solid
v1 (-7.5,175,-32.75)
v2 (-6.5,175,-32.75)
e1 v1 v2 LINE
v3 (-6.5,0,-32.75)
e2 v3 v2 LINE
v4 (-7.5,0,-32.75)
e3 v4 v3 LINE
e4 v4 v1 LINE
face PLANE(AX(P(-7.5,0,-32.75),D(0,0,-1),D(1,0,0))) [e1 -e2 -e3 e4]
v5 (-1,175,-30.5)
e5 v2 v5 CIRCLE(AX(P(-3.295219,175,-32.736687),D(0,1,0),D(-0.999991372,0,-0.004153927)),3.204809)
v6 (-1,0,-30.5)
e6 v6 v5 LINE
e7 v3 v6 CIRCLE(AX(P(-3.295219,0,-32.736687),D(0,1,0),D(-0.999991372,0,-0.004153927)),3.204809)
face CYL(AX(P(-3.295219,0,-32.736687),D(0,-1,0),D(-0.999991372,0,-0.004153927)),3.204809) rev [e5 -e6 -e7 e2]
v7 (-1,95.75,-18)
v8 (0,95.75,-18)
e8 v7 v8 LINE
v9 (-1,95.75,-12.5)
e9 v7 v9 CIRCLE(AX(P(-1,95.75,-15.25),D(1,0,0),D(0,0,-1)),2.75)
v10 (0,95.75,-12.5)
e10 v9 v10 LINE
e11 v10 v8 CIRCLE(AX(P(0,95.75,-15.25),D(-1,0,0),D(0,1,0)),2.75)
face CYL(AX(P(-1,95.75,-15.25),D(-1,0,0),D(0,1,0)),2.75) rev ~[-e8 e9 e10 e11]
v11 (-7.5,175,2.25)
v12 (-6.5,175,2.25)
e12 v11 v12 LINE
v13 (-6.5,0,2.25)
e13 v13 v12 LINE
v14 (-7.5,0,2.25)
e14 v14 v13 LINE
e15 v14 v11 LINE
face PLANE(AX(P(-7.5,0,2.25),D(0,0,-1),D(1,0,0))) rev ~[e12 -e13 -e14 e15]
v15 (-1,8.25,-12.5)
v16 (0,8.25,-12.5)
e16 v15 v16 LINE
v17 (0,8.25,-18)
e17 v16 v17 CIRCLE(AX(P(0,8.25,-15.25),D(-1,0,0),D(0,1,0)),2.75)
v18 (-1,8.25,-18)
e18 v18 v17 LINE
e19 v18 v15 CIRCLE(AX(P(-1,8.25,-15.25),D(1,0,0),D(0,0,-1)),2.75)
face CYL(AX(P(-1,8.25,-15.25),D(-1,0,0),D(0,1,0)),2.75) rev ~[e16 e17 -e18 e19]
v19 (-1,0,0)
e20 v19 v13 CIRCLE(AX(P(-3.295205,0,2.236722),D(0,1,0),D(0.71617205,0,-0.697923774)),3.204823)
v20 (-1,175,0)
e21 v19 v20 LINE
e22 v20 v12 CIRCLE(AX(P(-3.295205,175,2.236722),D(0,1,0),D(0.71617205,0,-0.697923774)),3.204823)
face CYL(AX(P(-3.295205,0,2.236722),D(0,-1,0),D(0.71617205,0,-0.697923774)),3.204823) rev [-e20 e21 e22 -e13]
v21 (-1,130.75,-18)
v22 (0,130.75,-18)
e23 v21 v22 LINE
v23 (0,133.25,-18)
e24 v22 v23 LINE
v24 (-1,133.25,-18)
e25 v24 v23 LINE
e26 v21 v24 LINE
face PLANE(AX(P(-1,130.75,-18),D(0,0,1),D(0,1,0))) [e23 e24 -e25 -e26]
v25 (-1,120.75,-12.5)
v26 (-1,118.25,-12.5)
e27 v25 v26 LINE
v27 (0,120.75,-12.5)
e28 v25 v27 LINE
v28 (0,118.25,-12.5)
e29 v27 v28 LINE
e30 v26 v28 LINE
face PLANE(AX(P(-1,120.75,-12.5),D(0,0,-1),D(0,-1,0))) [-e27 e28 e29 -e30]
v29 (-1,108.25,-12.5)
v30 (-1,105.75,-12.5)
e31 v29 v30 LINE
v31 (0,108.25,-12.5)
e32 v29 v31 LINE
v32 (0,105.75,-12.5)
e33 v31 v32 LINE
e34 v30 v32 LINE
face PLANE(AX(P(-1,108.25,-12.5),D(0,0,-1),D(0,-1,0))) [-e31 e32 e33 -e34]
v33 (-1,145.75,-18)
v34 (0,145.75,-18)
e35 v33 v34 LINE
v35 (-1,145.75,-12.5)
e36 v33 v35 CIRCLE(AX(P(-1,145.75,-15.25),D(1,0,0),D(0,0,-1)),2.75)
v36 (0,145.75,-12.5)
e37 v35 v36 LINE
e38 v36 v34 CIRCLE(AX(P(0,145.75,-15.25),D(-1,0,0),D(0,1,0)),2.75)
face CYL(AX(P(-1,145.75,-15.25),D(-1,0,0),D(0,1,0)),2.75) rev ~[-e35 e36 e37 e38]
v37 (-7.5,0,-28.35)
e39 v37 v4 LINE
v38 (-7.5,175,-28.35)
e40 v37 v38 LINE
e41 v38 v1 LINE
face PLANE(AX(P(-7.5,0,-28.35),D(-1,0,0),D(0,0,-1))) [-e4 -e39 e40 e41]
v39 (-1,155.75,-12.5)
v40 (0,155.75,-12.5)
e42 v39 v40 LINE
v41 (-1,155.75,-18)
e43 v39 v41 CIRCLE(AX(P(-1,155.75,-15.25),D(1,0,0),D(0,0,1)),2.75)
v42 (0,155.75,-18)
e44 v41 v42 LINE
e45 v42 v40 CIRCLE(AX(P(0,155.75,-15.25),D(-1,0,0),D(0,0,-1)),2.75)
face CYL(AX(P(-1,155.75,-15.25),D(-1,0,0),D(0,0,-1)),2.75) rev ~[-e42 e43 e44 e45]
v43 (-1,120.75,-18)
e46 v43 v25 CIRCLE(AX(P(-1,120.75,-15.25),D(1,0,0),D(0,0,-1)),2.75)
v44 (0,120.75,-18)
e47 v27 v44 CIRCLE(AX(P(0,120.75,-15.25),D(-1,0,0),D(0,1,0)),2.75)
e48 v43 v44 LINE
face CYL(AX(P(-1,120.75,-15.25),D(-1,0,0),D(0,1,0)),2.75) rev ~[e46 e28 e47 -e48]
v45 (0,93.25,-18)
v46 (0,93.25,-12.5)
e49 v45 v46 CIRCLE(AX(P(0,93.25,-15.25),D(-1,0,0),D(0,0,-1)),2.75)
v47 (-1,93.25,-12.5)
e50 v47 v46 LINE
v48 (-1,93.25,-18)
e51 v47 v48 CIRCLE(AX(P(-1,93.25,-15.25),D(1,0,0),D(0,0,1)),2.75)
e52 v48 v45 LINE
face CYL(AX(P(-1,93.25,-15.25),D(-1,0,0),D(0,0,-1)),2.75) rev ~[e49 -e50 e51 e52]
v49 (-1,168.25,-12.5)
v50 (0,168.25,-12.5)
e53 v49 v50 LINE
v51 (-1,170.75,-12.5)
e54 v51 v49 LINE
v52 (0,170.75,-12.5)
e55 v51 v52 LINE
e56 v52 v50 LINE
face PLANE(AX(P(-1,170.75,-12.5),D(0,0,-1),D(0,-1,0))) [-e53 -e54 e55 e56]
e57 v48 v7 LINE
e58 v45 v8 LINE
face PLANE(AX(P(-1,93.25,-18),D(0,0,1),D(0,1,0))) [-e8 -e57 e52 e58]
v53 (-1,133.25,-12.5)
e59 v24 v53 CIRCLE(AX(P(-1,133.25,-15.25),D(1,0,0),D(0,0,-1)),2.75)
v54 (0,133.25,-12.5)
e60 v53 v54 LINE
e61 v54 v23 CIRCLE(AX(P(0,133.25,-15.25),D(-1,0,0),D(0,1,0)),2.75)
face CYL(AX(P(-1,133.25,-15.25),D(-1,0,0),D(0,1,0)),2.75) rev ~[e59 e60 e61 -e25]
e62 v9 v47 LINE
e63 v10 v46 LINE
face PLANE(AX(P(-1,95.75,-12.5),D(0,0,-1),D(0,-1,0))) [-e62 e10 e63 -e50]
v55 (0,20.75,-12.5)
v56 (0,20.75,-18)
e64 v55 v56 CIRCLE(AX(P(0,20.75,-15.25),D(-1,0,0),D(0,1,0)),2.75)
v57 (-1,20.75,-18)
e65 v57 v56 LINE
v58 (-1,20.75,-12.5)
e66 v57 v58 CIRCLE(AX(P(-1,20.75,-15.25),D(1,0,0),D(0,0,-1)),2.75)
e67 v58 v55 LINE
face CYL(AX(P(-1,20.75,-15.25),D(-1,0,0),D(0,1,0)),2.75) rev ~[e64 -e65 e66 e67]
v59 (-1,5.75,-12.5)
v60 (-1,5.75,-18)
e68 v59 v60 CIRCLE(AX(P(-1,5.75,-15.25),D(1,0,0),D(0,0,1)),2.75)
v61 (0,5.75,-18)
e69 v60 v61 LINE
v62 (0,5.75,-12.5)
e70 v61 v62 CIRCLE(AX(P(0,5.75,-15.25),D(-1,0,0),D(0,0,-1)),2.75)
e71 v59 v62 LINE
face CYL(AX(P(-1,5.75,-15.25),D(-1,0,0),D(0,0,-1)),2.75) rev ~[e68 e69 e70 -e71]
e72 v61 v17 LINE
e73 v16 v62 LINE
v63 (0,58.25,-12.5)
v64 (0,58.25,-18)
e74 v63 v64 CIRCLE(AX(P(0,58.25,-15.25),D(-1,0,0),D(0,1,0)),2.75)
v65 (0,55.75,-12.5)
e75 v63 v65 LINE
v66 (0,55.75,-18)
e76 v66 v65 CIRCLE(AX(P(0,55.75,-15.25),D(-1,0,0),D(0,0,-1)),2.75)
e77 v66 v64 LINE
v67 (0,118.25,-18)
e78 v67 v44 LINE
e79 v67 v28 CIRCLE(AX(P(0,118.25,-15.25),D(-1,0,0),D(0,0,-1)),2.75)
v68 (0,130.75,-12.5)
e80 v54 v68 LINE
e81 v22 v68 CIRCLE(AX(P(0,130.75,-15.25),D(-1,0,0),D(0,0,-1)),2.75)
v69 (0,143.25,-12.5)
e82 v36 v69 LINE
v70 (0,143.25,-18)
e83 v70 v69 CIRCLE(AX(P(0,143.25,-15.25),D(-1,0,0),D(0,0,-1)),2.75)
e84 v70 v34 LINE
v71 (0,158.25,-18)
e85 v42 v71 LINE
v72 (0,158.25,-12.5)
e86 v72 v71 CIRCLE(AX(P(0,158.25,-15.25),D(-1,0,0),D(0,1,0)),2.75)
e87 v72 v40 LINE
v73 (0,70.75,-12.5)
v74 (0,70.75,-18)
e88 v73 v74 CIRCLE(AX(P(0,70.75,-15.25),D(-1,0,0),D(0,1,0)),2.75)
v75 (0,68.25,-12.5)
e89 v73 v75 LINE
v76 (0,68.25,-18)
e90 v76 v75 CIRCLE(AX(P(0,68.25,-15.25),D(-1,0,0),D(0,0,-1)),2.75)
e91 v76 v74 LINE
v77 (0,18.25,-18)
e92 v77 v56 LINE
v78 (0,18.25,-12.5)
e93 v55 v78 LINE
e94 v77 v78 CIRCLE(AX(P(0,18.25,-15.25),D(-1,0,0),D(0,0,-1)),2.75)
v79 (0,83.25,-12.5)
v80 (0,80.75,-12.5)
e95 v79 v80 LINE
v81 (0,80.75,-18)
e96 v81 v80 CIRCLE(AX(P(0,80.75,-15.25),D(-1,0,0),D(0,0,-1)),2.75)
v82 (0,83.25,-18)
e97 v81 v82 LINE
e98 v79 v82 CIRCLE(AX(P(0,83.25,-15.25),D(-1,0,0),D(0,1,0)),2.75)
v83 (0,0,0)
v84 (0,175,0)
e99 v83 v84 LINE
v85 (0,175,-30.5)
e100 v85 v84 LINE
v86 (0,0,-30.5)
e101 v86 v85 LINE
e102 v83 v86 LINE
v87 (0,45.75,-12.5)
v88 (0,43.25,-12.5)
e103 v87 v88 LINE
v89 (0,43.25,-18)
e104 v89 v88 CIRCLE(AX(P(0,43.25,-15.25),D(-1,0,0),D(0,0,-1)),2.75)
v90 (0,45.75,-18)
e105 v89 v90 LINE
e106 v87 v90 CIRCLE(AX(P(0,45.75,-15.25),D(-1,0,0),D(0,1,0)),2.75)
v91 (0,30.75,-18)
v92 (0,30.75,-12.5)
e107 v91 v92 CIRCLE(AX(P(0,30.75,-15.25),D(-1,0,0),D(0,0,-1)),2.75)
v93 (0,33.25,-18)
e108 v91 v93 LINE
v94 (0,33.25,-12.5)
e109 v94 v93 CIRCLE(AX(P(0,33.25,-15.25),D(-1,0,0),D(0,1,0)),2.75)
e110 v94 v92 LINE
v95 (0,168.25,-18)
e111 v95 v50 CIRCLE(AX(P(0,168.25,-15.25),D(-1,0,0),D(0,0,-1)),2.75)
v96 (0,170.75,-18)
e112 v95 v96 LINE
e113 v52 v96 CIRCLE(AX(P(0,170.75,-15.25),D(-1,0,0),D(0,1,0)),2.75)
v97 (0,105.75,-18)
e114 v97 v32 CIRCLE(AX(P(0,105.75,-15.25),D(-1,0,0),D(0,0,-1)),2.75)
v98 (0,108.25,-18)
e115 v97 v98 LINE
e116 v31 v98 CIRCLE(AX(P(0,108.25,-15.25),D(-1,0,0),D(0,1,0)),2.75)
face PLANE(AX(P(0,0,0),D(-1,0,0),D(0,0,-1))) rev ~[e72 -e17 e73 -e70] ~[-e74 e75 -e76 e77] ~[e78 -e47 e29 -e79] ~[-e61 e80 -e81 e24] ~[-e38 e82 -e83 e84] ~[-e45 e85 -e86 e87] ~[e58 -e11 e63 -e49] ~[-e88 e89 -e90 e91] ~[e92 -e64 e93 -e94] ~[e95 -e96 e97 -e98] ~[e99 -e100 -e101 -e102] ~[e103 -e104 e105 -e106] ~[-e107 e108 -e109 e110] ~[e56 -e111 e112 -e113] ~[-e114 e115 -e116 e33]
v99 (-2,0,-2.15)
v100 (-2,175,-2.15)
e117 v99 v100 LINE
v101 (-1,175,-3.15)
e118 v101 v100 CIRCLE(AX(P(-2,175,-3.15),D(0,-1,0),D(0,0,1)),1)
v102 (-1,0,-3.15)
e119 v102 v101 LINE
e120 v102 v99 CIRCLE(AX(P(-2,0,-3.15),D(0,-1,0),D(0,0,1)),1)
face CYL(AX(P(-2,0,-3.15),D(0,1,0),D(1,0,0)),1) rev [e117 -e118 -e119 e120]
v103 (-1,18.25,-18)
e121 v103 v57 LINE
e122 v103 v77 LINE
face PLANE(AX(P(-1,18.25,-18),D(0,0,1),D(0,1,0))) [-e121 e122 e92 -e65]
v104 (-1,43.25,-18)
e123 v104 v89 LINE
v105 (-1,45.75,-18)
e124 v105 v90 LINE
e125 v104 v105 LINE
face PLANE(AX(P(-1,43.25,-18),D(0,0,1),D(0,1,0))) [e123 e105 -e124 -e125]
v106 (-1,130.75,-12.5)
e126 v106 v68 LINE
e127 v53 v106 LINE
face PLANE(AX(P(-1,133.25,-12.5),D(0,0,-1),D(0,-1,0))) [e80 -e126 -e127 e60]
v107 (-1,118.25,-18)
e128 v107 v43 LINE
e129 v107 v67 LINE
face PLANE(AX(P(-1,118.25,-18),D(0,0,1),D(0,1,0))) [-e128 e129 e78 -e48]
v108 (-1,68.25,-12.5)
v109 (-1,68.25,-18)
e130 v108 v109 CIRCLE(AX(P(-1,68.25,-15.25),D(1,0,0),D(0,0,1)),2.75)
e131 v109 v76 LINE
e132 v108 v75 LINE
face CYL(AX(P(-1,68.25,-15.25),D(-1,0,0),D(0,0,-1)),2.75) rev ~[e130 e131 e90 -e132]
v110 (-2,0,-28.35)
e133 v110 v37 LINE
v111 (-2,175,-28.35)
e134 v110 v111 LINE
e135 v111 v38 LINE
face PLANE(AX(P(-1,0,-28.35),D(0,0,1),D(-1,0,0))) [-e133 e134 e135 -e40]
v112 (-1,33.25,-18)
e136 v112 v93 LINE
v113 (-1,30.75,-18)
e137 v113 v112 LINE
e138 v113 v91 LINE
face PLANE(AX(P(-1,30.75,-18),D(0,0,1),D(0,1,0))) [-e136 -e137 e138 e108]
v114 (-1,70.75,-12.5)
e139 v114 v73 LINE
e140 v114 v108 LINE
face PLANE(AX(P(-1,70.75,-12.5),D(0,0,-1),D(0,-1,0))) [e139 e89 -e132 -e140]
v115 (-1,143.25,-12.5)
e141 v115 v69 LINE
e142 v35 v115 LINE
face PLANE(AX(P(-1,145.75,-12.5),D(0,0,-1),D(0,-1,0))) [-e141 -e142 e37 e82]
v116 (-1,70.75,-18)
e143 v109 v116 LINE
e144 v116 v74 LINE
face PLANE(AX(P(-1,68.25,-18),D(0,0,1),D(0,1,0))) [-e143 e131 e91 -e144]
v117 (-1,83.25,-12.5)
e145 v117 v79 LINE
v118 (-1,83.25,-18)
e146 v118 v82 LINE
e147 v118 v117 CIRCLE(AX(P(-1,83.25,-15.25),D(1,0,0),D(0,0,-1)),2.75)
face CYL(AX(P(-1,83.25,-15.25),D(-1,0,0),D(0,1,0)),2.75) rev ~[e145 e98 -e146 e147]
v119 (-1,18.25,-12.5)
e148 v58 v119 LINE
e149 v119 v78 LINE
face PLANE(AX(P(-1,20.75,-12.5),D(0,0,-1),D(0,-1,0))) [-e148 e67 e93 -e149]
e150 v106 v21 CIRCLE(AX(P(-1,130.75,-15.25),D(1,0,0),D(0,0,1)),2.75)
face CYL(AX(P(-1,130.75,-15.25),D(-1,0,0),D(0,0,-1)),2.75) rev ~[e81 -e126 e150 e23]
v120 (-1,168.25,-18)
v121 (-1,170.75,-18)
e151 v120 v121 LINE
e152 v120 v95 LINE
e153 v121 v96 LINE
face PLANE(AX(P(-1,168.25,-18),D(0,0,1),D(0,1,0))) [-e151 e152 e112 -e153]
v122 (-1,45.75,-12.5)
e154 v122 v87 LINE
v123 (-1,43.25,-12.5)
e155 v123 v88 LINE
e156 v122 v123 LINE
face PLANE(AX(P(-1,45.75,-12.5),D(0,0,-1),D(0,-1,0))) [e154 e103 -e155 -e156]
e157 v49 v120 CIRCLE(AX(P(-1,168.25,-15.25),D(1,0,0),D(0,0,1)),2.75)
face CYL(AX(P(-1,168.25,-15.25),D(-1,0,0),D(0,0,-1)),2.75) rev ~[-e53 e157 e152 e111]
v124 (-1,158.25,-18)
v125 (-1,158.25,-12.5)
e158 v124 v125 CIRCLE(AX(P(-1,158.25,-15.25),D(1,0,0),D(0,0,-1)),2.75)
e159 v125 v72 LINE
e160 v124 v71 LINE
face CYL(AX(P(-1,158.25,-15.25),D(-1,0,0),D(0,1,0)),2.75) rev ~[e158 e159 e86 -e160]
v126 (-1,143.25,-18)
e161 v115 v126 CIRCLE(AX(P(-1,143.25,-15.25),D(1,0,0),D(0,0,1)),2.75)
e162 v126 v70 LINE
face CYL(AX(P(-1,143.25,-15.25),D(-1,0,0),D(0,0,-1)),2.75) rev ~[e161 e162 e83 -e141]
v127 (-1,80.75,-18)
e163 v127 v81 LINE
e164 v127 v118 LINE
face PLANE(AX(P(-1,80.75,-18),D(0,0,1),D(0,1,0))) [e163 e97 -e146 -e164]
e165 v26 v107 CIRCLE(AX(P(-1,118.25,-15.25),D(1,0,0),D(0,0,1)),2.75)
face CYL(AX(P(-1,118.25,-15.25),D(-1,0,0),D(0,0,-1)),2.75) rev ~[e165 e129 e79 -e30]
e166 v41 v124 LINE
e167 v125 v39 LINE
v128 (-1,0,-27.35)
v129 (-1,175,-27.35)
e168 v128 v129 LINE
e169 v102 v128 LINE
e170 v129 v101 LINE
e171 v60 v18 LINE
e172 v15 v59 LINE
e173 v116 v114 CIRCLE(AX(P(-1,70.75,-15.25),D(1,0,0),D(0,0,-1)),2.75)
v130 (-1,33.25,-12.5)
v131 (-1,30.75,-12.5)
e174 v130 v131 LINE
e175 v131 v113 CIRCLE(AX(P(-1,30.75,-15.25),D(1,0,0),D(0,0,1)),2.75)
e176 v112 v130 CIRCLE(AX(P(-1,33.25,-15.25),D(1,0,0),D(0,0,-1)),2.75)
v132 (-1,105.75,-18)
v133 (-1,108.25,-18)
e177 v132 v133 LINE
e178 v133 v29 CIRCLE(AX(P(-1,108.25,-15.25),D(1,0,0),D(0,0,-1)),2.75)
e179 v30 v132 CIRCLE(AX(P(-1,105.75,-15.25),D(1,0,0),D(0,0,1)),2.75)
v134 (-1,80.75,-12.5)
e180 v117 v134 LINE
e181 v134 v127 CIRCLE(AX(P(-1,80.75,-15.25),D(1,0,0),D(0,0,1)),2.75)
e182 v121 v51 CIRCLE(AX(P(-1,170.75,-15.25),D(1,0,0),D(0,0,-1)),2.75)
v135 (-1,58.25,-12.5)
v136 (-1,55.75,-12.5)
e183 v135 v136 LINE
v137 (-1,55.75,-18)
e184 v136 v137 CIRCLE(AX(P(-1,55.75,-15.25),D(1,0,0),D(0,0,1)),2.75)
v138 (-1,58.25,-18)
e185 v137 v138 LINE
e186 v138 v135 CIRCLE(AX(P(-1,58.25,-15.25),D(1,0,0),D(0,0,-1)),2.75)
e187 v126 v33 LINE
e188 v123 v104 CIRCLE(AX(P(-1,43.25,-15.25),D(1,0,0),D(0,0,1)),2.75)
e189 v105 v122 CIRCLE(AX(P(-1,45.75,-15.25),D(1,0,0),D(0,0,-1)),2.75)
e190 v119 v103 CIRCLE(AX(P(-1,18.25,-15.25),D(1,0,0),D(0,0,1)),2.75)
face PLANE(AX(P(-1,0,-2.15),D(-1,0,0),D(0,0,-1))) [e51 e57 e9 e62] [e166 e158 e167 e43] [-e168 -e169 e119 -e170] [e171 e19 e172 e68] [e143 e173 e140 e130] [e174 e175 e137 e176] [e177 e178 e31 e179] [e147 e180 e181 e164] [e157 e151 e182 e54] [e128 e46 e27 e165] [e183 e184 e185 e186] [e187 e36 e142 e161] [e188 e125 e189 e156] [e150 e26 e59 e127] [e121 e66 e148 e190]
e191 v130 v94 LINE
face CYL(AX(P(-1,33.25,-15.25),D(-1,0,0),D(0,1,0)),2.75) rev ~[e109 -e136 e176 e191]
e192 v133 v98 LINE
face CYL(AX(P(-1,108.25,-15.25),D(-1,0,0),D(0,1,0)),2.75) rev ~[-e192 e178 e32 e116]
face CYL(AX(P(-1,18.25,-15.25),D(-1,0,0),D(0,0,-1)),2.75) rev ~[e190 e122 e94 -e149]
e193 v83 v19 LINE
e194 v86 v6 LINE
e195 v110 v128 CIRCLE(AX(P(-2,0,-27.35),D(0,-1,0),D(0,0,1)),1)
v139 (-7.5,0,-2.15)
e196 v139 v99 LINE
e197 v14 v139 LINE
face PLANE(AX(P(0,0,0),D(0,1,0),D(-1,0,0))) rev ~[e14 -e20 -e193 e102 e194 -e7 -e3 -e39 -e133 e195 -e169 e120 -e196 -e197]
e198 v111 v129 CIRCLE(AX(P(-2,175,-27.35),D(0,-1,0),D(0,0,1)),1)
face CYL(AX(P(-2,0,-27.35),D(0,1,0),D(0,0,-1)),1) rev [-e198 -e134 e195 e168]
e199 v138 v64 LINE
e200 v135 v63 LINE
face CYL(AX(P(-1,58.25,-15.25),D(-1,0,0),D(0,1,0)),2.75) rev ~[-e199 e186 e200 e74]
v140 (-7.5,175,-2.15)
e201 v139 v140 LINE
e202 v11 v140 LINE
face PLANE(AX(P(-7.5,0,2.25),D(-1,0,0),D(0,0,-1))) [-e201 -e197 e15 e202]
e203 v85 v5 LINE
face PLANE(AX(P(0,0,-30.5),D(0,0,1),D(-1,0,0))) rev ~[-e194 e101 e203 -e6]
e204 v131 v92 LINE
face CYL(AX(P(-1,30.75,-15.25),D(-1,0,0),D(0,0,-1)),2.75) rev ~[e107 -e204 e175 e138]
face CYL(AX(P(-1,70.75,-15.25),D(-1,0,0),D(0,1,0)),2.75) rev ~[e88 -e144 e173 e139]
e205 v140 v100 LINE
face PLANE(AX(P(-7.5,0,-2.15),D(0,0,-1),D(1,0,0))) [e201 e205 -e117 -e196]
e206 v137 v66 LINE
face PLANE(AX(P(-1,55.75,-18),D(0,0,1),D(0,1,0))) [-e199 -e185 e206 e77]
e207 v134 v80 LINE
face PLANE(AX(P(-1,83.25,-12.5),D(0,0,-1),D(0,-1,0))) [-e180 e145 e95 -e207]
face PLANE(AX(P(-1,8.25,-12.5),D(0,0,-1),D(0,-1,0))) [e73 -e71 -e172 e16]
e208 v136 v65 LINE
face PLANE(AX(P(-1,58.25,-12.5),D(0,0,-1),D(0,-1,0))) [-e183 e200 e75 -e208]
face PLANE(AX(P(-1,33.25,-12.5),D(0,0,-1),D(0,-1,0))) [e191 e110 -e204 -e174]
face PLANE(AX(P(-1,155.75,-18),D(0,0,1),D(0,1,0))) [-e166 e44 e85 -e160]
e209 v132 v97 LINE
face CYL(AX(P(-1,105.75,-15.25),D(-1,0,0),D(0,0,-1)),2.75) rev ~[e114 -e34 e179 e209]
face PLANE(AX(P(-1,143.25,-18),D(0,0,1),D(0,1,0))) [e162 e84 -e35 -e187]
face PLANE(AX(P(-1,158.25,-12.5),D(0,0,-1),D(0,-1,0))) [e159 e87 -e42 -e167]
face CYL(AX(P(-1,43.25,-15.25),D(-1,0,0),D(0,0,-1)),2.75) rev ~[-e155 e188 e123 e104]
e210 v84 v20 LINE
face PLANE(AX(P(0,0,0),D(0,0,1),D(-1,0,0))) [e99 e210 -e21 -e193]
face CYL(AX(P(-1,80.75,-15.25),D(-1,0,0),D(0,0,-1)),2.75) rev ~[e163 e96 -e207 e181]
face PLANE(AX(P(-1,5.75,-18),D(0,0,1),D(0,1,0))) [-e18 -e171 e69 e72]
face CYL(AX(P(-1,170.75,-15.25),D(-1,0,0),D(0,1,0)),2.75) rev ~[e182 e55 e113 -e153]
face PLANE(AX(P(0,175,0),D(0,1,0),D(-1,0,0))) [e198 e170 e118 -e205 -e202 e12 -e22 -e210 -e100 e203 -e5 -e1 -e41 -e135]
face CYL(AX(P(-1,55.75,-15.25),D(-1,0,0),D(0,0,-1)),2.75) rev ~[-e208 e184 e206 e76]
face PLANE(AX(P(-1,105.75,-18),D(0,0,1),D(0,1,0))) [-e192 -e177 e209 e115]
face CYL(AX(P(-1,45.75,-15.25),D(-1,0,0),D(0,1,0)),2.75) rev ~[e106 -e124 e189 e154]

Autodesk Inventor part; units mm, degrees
ref_plane "YZ Plane" through (0, 0, 0) normal (1, 0, 0) x (0, 1, 0)
ref_plane "XZ Plane" through (0, 0, 0) normal (0, 1, 0) x (-1, 0, 0)
ref_plane "XY Plane" through (0, 0, 0) normal (0, 0, 1) x (1, 0, 0)
sketch "スケッチ1" plane through (0, 0, 0) normal (0, 1, 0) x (-1, 0, 0)
  line L0 (0, 0) -> (0, -30.5)
  line L1 (7.5, 2.25) -> (7.5, -32.75)
  line L2 (11.9991, -15.25) -> (-11.598, -15.25)
  line L3 (7.5, 2.25) -> (6.5, 2.25)
  line L4 (7.5, 2.25) -> (8.5, 2.25) construction
  line L5 (0, 0) -> (1, 0)
  arc A0 (1, 0) -> (6.5, 2.25) centre (3.2952, 2.2367) ccw
  line L6 (7.5, -32.75) -> (6.5, -32.75)
  line L7 (0, -30.5) -> (1, -30.5)
  arc A1 (6.5, -32.75) -> (1, -30.5) centre (3.2952, -32.7367) ccw
  line L8 (7.5, -2.15) -> (1, -2.15)
  line L9 (1, -2.15) -> (1, -28.35)
  line L10 (1, -28.35) -> (7.5, -28.35)
  dimension "d0" = 30.5
  dimension "d1" = 35
  dimension "d2" = 7.5
  dimension "d3" = 2.25
  dimension "d4" = 1
  dimension "d5" = 180
  dimension "d6" = 1
  dimension "d7" = 4.4
  dimension "d8" = 4.4
extrude "押し出し1" add sketch "スケッチ1" along normal blind 175 contours L5 A0 L3 L1 L8 L9 L2 L0 | L2 L9 L10 L1 L6 A1 L7 L0
sketch "スケッチ2" plane through (-1, 0, -28.35) normal (-1, 0, 0) x (0, 0, 1)
  line L0 (0, 0) -> (26.2, 0) projected
  line L1 (26.2, 0) -> (26.2, 175) projected
  line L2 (0, 175) -> (26.2, 175) projected
  line L3 (0, 0) -> (0, 175) projected
  line L4 (15.85, 3) -> (10.35, 3)
  line L5 (10.35, 3) -> (10.35, 11)
  line L6 (10.35, 11) -> (15.85, 11)
  line L7 (15.85, 11) -> (15.85, 3)
  arc A0 (13.1, 3) -> (15.85, 5.75) centre (13.1, 5.75) ccw
  arc A1 (10.35, 5.75) -> (13.1, 3) centre (13.1, 5.75) ccw
  arc A2 (13.1, 11) -> (10.35, 8.25) centre (13.1, 8.25) ccw
  arc A3 (15.85, 8.25) -> (13.1, 11) centre (13.1, 8.25) ccw
  line L8 (15.85, 15.5) -> (10.35, 15.5)
  arc A4 (13.1, 15.5) -> (15.85, 18.25) centre (13.1, 18.25) ccw
  arc A5 (10.35, 18.25) -> (13.1, 15.5) centre (13.1, 18.25) ccw
  arc A6 (15.85, 20.75) -> (13.1, 23.5) centre (13.1, 20.75) ccw
  arc A7 (13.1, 23.5) -> (10.35, 20.75) centre (13.1, 20.75) ccw
  line L9 (10.35, 15.5) -> (10.35, 23.5)
  line L10 (15.85, 23.5) -> (15.85, 15.5)
  line L11 (15.85, 28) -> (10.35, 28)
  arc A8 (13.1, 28) -> (15.85, 30.75) centre (13.1, 30.75) ccw
  arc A9 (10.35, 30.75) -> (13.1, 28) centre (13.1, 30.75) ccw
  arc A10 (15.85, 33.25) -> (13.1, 36) centre (13.1, 33.25) ccw
  arc A11 (13.1, 36) -> (10.35, 33.25) centre (13.1, 33.25) ccw
  line L12 (10.35, 28) -> (10.35, 36)
  line L13 (15.85, 36) -> (15.85, 28)
  line L14 (15.85, 40.5) -> (10.35, 40.5)
  arc A12 (13.1, 40.5) -> (15.85, 43.25) centre (13.1, 43.25) ccw
  arc A13 (10.35, 43.25) -> (13.1, 40.5) centre (13.1, 43.25) ccw
  arc A14 (15.85, 45.75) -> (13.1, 48.5) centre (13.1, 45.75) ccw
  arc A15 (13.1, 48.5) -> (10.35, 45.75) centre (13.1, 45.75) ccw
  line L15 (10.35, 40.5) -> (10.35, 48.5)
  line L16 (15.85, 48.5) -> (15.85, 40.5)
  line L17 (15.85, 53) -> (10.35, 53)
  arc A16 (13.1, 53) -> (15.85, 55.75) centre (13.1, 55.75) ccw
  arc A17 (10.35, 55.75) -> (13.1, 53) centre (13.1, 55.75) ccw
  arc A18 (15.85, 58.25) -> (13.1, 61) centre (13.1, 58.25) ccw
  arc A19 (13.1, 61) -> (10.35, 58.25) centre (13.1, 58.25) ccw
  line L18 (10.35, 53) -> (10.35, 61)
  line L19 (15.85, 61) -> (15.85, 53)
  line L20 (15.85, 65.5) -> (10.35, 65.5)
  arc A20 (13.1, 65.5) -> (15.85, 68.25) centre (13.1, 68.25) ccw
  arc A21 (10.35, 68.25) -> (13.1, 65.5) centre (13.1, 68.25) ccw
  arc A22 (15.85, 70.75) -> (13.1, 73.5) centre (13.1, 70.75) ccw
  arc A23 (13.1, 73.5) -> (10.35, 70.75) centre (13.1, 70.75) ccw
  line L21 (10.35, 65.5) -> (10.35, 73.5)
  line L22 (15.85, 73.5) -> (15.85, 65.5)
  line L23 (15.85, 78) -> (10.35, 78)
  arc A24 (13.1, 78) -> (15.85, 80.75) centre (13.1, 80.75) ccw
  arc A25 (10.35, 80.75) -> (13.1, 78) centre (13.1, 80.75) ccw
  arc A26 (15.85, 83.25) -> (13.1, 86) centre (13.1, 83.25) ccw
  arc A27 (13.1, 86) -> (10.35, 83.25) centre (13.1, 83.25) ccw
  line L24 (10.35, 78) -> (10.35, 86)
  line L25 (15.85, 86) -> (15.85, 78)
  line L26 (15.85, 90.5) -> (10.35, 90.5)
  arc A28 (13.1, 90.5) -> (15.85, 93.25) centre (13.1, 93.25) ccw
  arc A29 (10.35, 93.25) -> (13.1, 90.5) centre (13.1, 93.25) ccw
  arc A30 (15.85, 95.75) -> (13.1, 98.5) centre (13.1, 95.75) ccw
  arc A31 (13.1, 98.5) -> (10.35, 95.75) centre (13.1, 95.75) ccw
  line L27 (10.35, 90.5) -> (10.35, 98.5)
  line L28 (15.85, 98.5) -> (15.85, 90.5)
  line L29 (15.85, 103) -> (10.35, 103)
  arc A32 (13.1, 103) -> (15.85, 105.75) centre (13.1, 105.75) ccw
  arc A33 (10.35, 105.75) -> (13.1, 103) centre (13.1, 105.75) ccw
  arc A34 (15.85, 108.25) -> (13.1, 111) centre (13.1, 108.25) ccw
  arc A35 (13.1, 111) -> (10.35, 108.25) centre (13.1, 108.25) ccw
  line L30 (10.35, 103) -> (10.35, 111)
  line L31 (15.85, 111) -> (15.85, 103)
  line L32 (15.85, 115.5) -> (10.35, 115.5)
  arc A36 (13.1, 115.5) -> (15.85, 118.25) centre (13.1, 118.25) ccw
  arc A37 (10.35, 118.25) -> (13.1, 115.5) centre (13.1, 118.25) ccw
  arc A38 (15.85, 120.75) -> (13.1, 123.5) centre (13.1, 120.75) ccw
  arc A39 (13.1, 123.5) -> (10.35, 120.75) centre (13.1, 120.75) ccw
  line L33 (10.35, 115.5) -> (10.35, 123.5)
  line L34 (15.85, 123.5) -> (15.85, 115.5)
  line L35 (15.85, 128) -> (10.35, 128)
  arc A40 (13.1, 128) -> (15.85, 130.75) centre (13.1, 130.75) ccw
  arc A41 (10.35, 130.75) -> (13.1, 128) centre (13.1, 130.75) ccw
  arc A42 (15.85, 133.25) -> (13.1, 136) centre (13.1, 133.25) ccw
  arc A43 (13.1, 136) -> (10.35, 133.25) centre (13.1, 133.25) ccw
  line L36 (10.35, 128) -> (10.35, 136)
  line L37 (15.85, 136) -> (15.85, 128)
  line L38 (15.85, 140.5) -> (10.35, 140.5)
  arc A44 (13.1, 140.5) -> (15.85, 143.25) centre (13.1, 143.25) ccw
  arc A45 (10.35, 143.25) -> (13.1, 140.5) centre (13.1, 143.25) ccw
  arc A46 (15.85, 145.75) -> (13.1, 148.5) centre (13.1, 145.75) ccw
  arc A47 (13.1, 148.5) -> (10.35, 145.75) centre (13.1, 145.75) ccw
  line L39 (10.35, 140.5) -> (10.35, 148.5)
  line L40 (15.85, 148.5) -> (15.85, 140.5)
  line L41 (15.85, 153) -> (10.35, 153)
  arc A48 (13.1, 153) -> (15.85, 155.75) centre (13.1, 155.75) ccw
  arc A49 (10.35, 155.75) -> (13.1, 153) centre (13.1, 155.75) ccw
  arc A50 (15.85, 158.25) -> (13.1, 161) centre (13.1, 158.25) ccw
  arc A51 (13.1, 161) -> (10.35, 158.25) centre (13.1, 158.25) ccw
  line L42 (10.35, 153) -> (10.35, 161)
  line L43 (15.85, 161) -> (15.85, 153)
  line L44 (15.85, 165.5) -> (10.35, 165.5)
  arc A52 (13.1, 165.5) -> (15.85, 168.25) centre (13.1, 168.25) ccw
  arc A53 (10.35, 168.25) -> (13.1, 165.5) centre (13.1, 168.25) ccw
  arc A54 (15.85, 170.75) -> (13.1, 173.5) centre (13.1, 170.75) ccw
  arc A55 (13.1, 173.5) -> (10.35, 170.75) centre (13.1, 170.75) ccw
  line L45 (10.35, 165.5) -> (10.35, 173.5)
  line L46 (15.85, 173.5) -> (15.85, 165.5)
  line L47 (15.85, 178) -> (10.35, 178)
  arc A56 (13.1, 178) -> (15.85, 180.75) centre (13.1, 180.75) ccw
  arc A57 (10.35, 180.75) -> (13.1, 178) centre (13.1, 180.75) ccw
  arc A58 (15.85, 183.25) -> (13.1, 186) centre (13.1, 183.25) ccw
  arc A59 (13.1, 186) -> (10.35, 183.25) centre (13.1, 183.25) ccw
  line L48 (10.35, 178) -> (10.35, 186)
  line L49 (15.85, 186) -> (15.85, 178)
  line L50 (15.85, 190.5) -> (10.35, 190.5)
  arc A60 (13.1, 190.5) -> (15.85, 193.25) centre (13.1, 193.25) ccw
  arc A61 (10.35, 193.25) -> (13.1, 190.5) centre (13.1, 193.25) ccw
  arc A62 (15.85, 195.75) -> (13.1, 198.5) centre (13.1, 195.75) ccw
  arc A63 (13.1, 198.5) -> (10.35, 195.75) centre (13.1, 195.75) ccw
  line L51 (10.35, 190.5) -> (10.35, 198.5)
  line L52 (15.85, 198.5) -> (15.85, 190.5)
  line L53 (15.85, 203) -> (10.35, 203)
  arc A64 (13.1, 203) -> (15.85, 205.75) centre (13.1, 205.75) ccw
  arc A65 (10.35, 205.75) -> (13.1, 203) centre (13.1, 205.75) ccw
  arc A66 (15.85, 208.25) -> (13.1, 211) centre (13.1, 208.25) ccw
  arc A67 (13.1, 211) -> (10.35, 208.25) centre (13.1, 208.25) ccw
  line L54 (10.35, 203) -> (10.35, 211)
  line L55 (15.85, 211) -> (15.85, 203)
  line L56 (15.85, 215.5) -> (10.35, 215.5)
  arc A68 (13.1, 215.5) -> (15.85, 218.25) centre (13.1, 218.25) ccw
  arc A69 (10.35, 218.25) -> (13.1, 215.5) centre (13.1, 218.25) ccw
  arc A70 (15.85, 220.75) -> (13.1, 223.5) centre (13.1, 220.75) ccw
  arc A71 (13.1, 223.5) -> (10.35, 220.75) centre (13.1, 220.75) ccw
  line L57 (10.35, 215.5) -> (10.35, 223.5)
  line L58 (15.85, 223.5) -> (15.85, 215.5)
  line L59 (15.85, 228) -> (10.35, 228)
  arc A72 (13.1, 228) -> (15.85, 230.75) centre (13.1, 230.75) ccw
  arc A73 (10.35, 230.75) -> (13.1, 228) centre (13.1, 230.75) ccw
  arc A74 (15.85, 233.25) -> (13.1, 236) centre (13.1, 233.25) ccw
  arc A75 (13.1, 236) -> (10.35, 233.25) centre (13.1, 233.25) ccw
  line L60 (10.35, 228) -> (10.35, 236)
  line L61 (15.85, 236) -> (15.85, 228)
  line L62 (15.85, 240.5) -> (10.35, 240.5)
  arc A76 (13.1, 240.5) -> (15.85, 243.25) centre (13.1, 243.25) ccw
  arc A77 (10.35, 243.25) -> (13.1, 240.5) centre (13.1, 243.25) ccw
  arc A78 (15.85, 245.75) -> (13.1, 248.5) centre (13.1, 245.75) ccw
  arc A79 (13.1, 248.5) -> (10.35, 245.75) centre (13.1, 245.75) ccw
  line L63 (10.35, 240.5) -> (10.35, 248.5)
  line L64 (15.85, 248.5) -> (15.85, 240.5)
  line L65 (15.85, 253) -> (10.35, 253)
  arc A80 (13.1, 253) -> (15.85, 255.75) centre (13.1, 255.75) ccw
  arc A81 (10.35, 255.75) -> (13.1, 253) centre (13.1, 255.75) ccw
  arc A82 (15.85, 258.25) -> (13.1, 261) centre (13.1, 258.25) ccw
  arc A83 (13.1, 261) -> (10.35, 258.25) centre (13.1, 258.25) ccw
  line L66 (10.35, 253) -> (10.35, 261)
  line L67 (15.85, 261) -> (15.85, 253)
  line L68 (15.85, 265.5) -> (10.35, 265.5)
  arc A84 (13.1, 265.5) -> (15.85, 268.25) centre (13.1, 268.25) ccw
  arc A85 (10.35, 268.25) -> (13.1, 265.5) centre (13.1, 268.25) ccw
  arc A86 (15.85, 270.75) -> (13.1, 273.5) centre (13.1, 270.75) ccw
  arc A87 (13.1, 273.5) -> (10.35, 270.75) centre (13.1, 270.75) ccw
  line L69 (10.35, 265.5) -> (10.35, 273.5)
  line L70 (15.85, 273.5) -> (15.85, 265.5)
  line L71 (15.85, 278) -> (10.35, 278)
  arc A88 (13.1, 278) -> (15.85, 280.75) centre (13.1, 280.75) ccw
  arc A89 (10.35, 280.75) -> (13.1, 278) centre (13.1, 280.75) ccw
  arc A90 (15.85, 283.25) -> (13.1, 286) centre (13.1, 283.25) ccw
  arc A91 (13.1, 286) -> (10.35, 283.25) centre (13.1, 283.25) ccw
  line L72 (10.35, 278) -> (10.35, 286)
  line L73 (15.85, 286) -> (15.85, 278)
  line L74 (15.85, 290.5) -> (10.35, 290.5)
  arc A92 (13.1, 290.5) -> (15.85, 293.25) centre (13.1, 293.25) ccw
  arc A93 (10.35, 293.25) -> (13.1, 290.5) centre (13.1, 293.25) ccw
  arc A94 (15.85, 295.75) -> (13.1, 298.5) centre (13.1, 295.75) ccw
  arc A95 (13.1, 298.5) -> (10.35, 295.75) centre (13.1, 295.75) ccw
  line L75 (10.35, 290.5) -> (10.35, 298.5)
  line L76 (15.85, 298.5) -> (15.85, 290.5)
  line L77 (15.85, 303) -> (10.35, 303)
  arc A96 (13.1, 303) -> (15.85, 305.75) centre (13.1, 305.75) ccw
  arc A97 (10.35, 305.75) -> (13.1, 303) centre (13.1, 305.75) ccw
  arc A98 (15.85, 308.25) -> (13.1, 311) centre (13.1, 308.25) ccw
  arc A99 (13.1, 311) -> (10.35, 308.25) centre (13.1, 308.25) ccw
  line L78 (10.35, 303) -> (10.35, 311)
  line L79 (15.85, 311) -> (15.85, 303)
  point P0 (28.35, 0)
  dimension "d11" = 5.5
  dimension "d12" = 8
  dimension "d13" = 10.35
  dimension "d14" = 3
  dimension "d16" = 2.75
  dimension "d18" = 2.75
  dimension "d21" = 12.5
extrude "押し出し2" cut sketch "スケッチ2" against normal blind 3 contours A1 L5 A2 A3 L7 A0 | A5 L9 A7 A6 L10 A4 | A9 L12 A11 A10 L13 A8 | A13 L15 A15 A14 L16 A12 | A17 L18 A19 A18 L19 A16 | A21 L21 A23 A22 L22 A20 | A25 L24 A27 A26 L25 A24 | A29 L27 A31 A30 L28 A28 | A33 L30 A35 A34 L31 A32 | A37 L33 A39 A38 L34 A36 | A41 L36 A43 A42 L37 A40 | A45 L39 A47 A46 L40 A44 | A49 L42 A51 A50 L43 A48 | A53 L45 A55 A54 L46 A52 | A57 L48 A59 A58 L49 A56 | A61 L51 A63 A62 L52 A60 | A65 L54 A67 A66 L55 A64 | A69 L57 A71 A70 L58 A68 | A73 L60 A75 A74 L61 A72 | A77 L63 A79 A78 L64 A76 | A81 L66 A83 A82 L67 A80 | A85 L69 A87 A86 L70 A84 | A89 L72 A91 A90 L73 A88 | A93 L75 A95 A94 L76 A92
fillet "フィレット1" radius 1 2 edges at (-1, 87.5, -28.35) (-1, 87.5, -2.15)
properties part number "CB_dinrail_mk" material "アルミニウム 6061-AHC"
